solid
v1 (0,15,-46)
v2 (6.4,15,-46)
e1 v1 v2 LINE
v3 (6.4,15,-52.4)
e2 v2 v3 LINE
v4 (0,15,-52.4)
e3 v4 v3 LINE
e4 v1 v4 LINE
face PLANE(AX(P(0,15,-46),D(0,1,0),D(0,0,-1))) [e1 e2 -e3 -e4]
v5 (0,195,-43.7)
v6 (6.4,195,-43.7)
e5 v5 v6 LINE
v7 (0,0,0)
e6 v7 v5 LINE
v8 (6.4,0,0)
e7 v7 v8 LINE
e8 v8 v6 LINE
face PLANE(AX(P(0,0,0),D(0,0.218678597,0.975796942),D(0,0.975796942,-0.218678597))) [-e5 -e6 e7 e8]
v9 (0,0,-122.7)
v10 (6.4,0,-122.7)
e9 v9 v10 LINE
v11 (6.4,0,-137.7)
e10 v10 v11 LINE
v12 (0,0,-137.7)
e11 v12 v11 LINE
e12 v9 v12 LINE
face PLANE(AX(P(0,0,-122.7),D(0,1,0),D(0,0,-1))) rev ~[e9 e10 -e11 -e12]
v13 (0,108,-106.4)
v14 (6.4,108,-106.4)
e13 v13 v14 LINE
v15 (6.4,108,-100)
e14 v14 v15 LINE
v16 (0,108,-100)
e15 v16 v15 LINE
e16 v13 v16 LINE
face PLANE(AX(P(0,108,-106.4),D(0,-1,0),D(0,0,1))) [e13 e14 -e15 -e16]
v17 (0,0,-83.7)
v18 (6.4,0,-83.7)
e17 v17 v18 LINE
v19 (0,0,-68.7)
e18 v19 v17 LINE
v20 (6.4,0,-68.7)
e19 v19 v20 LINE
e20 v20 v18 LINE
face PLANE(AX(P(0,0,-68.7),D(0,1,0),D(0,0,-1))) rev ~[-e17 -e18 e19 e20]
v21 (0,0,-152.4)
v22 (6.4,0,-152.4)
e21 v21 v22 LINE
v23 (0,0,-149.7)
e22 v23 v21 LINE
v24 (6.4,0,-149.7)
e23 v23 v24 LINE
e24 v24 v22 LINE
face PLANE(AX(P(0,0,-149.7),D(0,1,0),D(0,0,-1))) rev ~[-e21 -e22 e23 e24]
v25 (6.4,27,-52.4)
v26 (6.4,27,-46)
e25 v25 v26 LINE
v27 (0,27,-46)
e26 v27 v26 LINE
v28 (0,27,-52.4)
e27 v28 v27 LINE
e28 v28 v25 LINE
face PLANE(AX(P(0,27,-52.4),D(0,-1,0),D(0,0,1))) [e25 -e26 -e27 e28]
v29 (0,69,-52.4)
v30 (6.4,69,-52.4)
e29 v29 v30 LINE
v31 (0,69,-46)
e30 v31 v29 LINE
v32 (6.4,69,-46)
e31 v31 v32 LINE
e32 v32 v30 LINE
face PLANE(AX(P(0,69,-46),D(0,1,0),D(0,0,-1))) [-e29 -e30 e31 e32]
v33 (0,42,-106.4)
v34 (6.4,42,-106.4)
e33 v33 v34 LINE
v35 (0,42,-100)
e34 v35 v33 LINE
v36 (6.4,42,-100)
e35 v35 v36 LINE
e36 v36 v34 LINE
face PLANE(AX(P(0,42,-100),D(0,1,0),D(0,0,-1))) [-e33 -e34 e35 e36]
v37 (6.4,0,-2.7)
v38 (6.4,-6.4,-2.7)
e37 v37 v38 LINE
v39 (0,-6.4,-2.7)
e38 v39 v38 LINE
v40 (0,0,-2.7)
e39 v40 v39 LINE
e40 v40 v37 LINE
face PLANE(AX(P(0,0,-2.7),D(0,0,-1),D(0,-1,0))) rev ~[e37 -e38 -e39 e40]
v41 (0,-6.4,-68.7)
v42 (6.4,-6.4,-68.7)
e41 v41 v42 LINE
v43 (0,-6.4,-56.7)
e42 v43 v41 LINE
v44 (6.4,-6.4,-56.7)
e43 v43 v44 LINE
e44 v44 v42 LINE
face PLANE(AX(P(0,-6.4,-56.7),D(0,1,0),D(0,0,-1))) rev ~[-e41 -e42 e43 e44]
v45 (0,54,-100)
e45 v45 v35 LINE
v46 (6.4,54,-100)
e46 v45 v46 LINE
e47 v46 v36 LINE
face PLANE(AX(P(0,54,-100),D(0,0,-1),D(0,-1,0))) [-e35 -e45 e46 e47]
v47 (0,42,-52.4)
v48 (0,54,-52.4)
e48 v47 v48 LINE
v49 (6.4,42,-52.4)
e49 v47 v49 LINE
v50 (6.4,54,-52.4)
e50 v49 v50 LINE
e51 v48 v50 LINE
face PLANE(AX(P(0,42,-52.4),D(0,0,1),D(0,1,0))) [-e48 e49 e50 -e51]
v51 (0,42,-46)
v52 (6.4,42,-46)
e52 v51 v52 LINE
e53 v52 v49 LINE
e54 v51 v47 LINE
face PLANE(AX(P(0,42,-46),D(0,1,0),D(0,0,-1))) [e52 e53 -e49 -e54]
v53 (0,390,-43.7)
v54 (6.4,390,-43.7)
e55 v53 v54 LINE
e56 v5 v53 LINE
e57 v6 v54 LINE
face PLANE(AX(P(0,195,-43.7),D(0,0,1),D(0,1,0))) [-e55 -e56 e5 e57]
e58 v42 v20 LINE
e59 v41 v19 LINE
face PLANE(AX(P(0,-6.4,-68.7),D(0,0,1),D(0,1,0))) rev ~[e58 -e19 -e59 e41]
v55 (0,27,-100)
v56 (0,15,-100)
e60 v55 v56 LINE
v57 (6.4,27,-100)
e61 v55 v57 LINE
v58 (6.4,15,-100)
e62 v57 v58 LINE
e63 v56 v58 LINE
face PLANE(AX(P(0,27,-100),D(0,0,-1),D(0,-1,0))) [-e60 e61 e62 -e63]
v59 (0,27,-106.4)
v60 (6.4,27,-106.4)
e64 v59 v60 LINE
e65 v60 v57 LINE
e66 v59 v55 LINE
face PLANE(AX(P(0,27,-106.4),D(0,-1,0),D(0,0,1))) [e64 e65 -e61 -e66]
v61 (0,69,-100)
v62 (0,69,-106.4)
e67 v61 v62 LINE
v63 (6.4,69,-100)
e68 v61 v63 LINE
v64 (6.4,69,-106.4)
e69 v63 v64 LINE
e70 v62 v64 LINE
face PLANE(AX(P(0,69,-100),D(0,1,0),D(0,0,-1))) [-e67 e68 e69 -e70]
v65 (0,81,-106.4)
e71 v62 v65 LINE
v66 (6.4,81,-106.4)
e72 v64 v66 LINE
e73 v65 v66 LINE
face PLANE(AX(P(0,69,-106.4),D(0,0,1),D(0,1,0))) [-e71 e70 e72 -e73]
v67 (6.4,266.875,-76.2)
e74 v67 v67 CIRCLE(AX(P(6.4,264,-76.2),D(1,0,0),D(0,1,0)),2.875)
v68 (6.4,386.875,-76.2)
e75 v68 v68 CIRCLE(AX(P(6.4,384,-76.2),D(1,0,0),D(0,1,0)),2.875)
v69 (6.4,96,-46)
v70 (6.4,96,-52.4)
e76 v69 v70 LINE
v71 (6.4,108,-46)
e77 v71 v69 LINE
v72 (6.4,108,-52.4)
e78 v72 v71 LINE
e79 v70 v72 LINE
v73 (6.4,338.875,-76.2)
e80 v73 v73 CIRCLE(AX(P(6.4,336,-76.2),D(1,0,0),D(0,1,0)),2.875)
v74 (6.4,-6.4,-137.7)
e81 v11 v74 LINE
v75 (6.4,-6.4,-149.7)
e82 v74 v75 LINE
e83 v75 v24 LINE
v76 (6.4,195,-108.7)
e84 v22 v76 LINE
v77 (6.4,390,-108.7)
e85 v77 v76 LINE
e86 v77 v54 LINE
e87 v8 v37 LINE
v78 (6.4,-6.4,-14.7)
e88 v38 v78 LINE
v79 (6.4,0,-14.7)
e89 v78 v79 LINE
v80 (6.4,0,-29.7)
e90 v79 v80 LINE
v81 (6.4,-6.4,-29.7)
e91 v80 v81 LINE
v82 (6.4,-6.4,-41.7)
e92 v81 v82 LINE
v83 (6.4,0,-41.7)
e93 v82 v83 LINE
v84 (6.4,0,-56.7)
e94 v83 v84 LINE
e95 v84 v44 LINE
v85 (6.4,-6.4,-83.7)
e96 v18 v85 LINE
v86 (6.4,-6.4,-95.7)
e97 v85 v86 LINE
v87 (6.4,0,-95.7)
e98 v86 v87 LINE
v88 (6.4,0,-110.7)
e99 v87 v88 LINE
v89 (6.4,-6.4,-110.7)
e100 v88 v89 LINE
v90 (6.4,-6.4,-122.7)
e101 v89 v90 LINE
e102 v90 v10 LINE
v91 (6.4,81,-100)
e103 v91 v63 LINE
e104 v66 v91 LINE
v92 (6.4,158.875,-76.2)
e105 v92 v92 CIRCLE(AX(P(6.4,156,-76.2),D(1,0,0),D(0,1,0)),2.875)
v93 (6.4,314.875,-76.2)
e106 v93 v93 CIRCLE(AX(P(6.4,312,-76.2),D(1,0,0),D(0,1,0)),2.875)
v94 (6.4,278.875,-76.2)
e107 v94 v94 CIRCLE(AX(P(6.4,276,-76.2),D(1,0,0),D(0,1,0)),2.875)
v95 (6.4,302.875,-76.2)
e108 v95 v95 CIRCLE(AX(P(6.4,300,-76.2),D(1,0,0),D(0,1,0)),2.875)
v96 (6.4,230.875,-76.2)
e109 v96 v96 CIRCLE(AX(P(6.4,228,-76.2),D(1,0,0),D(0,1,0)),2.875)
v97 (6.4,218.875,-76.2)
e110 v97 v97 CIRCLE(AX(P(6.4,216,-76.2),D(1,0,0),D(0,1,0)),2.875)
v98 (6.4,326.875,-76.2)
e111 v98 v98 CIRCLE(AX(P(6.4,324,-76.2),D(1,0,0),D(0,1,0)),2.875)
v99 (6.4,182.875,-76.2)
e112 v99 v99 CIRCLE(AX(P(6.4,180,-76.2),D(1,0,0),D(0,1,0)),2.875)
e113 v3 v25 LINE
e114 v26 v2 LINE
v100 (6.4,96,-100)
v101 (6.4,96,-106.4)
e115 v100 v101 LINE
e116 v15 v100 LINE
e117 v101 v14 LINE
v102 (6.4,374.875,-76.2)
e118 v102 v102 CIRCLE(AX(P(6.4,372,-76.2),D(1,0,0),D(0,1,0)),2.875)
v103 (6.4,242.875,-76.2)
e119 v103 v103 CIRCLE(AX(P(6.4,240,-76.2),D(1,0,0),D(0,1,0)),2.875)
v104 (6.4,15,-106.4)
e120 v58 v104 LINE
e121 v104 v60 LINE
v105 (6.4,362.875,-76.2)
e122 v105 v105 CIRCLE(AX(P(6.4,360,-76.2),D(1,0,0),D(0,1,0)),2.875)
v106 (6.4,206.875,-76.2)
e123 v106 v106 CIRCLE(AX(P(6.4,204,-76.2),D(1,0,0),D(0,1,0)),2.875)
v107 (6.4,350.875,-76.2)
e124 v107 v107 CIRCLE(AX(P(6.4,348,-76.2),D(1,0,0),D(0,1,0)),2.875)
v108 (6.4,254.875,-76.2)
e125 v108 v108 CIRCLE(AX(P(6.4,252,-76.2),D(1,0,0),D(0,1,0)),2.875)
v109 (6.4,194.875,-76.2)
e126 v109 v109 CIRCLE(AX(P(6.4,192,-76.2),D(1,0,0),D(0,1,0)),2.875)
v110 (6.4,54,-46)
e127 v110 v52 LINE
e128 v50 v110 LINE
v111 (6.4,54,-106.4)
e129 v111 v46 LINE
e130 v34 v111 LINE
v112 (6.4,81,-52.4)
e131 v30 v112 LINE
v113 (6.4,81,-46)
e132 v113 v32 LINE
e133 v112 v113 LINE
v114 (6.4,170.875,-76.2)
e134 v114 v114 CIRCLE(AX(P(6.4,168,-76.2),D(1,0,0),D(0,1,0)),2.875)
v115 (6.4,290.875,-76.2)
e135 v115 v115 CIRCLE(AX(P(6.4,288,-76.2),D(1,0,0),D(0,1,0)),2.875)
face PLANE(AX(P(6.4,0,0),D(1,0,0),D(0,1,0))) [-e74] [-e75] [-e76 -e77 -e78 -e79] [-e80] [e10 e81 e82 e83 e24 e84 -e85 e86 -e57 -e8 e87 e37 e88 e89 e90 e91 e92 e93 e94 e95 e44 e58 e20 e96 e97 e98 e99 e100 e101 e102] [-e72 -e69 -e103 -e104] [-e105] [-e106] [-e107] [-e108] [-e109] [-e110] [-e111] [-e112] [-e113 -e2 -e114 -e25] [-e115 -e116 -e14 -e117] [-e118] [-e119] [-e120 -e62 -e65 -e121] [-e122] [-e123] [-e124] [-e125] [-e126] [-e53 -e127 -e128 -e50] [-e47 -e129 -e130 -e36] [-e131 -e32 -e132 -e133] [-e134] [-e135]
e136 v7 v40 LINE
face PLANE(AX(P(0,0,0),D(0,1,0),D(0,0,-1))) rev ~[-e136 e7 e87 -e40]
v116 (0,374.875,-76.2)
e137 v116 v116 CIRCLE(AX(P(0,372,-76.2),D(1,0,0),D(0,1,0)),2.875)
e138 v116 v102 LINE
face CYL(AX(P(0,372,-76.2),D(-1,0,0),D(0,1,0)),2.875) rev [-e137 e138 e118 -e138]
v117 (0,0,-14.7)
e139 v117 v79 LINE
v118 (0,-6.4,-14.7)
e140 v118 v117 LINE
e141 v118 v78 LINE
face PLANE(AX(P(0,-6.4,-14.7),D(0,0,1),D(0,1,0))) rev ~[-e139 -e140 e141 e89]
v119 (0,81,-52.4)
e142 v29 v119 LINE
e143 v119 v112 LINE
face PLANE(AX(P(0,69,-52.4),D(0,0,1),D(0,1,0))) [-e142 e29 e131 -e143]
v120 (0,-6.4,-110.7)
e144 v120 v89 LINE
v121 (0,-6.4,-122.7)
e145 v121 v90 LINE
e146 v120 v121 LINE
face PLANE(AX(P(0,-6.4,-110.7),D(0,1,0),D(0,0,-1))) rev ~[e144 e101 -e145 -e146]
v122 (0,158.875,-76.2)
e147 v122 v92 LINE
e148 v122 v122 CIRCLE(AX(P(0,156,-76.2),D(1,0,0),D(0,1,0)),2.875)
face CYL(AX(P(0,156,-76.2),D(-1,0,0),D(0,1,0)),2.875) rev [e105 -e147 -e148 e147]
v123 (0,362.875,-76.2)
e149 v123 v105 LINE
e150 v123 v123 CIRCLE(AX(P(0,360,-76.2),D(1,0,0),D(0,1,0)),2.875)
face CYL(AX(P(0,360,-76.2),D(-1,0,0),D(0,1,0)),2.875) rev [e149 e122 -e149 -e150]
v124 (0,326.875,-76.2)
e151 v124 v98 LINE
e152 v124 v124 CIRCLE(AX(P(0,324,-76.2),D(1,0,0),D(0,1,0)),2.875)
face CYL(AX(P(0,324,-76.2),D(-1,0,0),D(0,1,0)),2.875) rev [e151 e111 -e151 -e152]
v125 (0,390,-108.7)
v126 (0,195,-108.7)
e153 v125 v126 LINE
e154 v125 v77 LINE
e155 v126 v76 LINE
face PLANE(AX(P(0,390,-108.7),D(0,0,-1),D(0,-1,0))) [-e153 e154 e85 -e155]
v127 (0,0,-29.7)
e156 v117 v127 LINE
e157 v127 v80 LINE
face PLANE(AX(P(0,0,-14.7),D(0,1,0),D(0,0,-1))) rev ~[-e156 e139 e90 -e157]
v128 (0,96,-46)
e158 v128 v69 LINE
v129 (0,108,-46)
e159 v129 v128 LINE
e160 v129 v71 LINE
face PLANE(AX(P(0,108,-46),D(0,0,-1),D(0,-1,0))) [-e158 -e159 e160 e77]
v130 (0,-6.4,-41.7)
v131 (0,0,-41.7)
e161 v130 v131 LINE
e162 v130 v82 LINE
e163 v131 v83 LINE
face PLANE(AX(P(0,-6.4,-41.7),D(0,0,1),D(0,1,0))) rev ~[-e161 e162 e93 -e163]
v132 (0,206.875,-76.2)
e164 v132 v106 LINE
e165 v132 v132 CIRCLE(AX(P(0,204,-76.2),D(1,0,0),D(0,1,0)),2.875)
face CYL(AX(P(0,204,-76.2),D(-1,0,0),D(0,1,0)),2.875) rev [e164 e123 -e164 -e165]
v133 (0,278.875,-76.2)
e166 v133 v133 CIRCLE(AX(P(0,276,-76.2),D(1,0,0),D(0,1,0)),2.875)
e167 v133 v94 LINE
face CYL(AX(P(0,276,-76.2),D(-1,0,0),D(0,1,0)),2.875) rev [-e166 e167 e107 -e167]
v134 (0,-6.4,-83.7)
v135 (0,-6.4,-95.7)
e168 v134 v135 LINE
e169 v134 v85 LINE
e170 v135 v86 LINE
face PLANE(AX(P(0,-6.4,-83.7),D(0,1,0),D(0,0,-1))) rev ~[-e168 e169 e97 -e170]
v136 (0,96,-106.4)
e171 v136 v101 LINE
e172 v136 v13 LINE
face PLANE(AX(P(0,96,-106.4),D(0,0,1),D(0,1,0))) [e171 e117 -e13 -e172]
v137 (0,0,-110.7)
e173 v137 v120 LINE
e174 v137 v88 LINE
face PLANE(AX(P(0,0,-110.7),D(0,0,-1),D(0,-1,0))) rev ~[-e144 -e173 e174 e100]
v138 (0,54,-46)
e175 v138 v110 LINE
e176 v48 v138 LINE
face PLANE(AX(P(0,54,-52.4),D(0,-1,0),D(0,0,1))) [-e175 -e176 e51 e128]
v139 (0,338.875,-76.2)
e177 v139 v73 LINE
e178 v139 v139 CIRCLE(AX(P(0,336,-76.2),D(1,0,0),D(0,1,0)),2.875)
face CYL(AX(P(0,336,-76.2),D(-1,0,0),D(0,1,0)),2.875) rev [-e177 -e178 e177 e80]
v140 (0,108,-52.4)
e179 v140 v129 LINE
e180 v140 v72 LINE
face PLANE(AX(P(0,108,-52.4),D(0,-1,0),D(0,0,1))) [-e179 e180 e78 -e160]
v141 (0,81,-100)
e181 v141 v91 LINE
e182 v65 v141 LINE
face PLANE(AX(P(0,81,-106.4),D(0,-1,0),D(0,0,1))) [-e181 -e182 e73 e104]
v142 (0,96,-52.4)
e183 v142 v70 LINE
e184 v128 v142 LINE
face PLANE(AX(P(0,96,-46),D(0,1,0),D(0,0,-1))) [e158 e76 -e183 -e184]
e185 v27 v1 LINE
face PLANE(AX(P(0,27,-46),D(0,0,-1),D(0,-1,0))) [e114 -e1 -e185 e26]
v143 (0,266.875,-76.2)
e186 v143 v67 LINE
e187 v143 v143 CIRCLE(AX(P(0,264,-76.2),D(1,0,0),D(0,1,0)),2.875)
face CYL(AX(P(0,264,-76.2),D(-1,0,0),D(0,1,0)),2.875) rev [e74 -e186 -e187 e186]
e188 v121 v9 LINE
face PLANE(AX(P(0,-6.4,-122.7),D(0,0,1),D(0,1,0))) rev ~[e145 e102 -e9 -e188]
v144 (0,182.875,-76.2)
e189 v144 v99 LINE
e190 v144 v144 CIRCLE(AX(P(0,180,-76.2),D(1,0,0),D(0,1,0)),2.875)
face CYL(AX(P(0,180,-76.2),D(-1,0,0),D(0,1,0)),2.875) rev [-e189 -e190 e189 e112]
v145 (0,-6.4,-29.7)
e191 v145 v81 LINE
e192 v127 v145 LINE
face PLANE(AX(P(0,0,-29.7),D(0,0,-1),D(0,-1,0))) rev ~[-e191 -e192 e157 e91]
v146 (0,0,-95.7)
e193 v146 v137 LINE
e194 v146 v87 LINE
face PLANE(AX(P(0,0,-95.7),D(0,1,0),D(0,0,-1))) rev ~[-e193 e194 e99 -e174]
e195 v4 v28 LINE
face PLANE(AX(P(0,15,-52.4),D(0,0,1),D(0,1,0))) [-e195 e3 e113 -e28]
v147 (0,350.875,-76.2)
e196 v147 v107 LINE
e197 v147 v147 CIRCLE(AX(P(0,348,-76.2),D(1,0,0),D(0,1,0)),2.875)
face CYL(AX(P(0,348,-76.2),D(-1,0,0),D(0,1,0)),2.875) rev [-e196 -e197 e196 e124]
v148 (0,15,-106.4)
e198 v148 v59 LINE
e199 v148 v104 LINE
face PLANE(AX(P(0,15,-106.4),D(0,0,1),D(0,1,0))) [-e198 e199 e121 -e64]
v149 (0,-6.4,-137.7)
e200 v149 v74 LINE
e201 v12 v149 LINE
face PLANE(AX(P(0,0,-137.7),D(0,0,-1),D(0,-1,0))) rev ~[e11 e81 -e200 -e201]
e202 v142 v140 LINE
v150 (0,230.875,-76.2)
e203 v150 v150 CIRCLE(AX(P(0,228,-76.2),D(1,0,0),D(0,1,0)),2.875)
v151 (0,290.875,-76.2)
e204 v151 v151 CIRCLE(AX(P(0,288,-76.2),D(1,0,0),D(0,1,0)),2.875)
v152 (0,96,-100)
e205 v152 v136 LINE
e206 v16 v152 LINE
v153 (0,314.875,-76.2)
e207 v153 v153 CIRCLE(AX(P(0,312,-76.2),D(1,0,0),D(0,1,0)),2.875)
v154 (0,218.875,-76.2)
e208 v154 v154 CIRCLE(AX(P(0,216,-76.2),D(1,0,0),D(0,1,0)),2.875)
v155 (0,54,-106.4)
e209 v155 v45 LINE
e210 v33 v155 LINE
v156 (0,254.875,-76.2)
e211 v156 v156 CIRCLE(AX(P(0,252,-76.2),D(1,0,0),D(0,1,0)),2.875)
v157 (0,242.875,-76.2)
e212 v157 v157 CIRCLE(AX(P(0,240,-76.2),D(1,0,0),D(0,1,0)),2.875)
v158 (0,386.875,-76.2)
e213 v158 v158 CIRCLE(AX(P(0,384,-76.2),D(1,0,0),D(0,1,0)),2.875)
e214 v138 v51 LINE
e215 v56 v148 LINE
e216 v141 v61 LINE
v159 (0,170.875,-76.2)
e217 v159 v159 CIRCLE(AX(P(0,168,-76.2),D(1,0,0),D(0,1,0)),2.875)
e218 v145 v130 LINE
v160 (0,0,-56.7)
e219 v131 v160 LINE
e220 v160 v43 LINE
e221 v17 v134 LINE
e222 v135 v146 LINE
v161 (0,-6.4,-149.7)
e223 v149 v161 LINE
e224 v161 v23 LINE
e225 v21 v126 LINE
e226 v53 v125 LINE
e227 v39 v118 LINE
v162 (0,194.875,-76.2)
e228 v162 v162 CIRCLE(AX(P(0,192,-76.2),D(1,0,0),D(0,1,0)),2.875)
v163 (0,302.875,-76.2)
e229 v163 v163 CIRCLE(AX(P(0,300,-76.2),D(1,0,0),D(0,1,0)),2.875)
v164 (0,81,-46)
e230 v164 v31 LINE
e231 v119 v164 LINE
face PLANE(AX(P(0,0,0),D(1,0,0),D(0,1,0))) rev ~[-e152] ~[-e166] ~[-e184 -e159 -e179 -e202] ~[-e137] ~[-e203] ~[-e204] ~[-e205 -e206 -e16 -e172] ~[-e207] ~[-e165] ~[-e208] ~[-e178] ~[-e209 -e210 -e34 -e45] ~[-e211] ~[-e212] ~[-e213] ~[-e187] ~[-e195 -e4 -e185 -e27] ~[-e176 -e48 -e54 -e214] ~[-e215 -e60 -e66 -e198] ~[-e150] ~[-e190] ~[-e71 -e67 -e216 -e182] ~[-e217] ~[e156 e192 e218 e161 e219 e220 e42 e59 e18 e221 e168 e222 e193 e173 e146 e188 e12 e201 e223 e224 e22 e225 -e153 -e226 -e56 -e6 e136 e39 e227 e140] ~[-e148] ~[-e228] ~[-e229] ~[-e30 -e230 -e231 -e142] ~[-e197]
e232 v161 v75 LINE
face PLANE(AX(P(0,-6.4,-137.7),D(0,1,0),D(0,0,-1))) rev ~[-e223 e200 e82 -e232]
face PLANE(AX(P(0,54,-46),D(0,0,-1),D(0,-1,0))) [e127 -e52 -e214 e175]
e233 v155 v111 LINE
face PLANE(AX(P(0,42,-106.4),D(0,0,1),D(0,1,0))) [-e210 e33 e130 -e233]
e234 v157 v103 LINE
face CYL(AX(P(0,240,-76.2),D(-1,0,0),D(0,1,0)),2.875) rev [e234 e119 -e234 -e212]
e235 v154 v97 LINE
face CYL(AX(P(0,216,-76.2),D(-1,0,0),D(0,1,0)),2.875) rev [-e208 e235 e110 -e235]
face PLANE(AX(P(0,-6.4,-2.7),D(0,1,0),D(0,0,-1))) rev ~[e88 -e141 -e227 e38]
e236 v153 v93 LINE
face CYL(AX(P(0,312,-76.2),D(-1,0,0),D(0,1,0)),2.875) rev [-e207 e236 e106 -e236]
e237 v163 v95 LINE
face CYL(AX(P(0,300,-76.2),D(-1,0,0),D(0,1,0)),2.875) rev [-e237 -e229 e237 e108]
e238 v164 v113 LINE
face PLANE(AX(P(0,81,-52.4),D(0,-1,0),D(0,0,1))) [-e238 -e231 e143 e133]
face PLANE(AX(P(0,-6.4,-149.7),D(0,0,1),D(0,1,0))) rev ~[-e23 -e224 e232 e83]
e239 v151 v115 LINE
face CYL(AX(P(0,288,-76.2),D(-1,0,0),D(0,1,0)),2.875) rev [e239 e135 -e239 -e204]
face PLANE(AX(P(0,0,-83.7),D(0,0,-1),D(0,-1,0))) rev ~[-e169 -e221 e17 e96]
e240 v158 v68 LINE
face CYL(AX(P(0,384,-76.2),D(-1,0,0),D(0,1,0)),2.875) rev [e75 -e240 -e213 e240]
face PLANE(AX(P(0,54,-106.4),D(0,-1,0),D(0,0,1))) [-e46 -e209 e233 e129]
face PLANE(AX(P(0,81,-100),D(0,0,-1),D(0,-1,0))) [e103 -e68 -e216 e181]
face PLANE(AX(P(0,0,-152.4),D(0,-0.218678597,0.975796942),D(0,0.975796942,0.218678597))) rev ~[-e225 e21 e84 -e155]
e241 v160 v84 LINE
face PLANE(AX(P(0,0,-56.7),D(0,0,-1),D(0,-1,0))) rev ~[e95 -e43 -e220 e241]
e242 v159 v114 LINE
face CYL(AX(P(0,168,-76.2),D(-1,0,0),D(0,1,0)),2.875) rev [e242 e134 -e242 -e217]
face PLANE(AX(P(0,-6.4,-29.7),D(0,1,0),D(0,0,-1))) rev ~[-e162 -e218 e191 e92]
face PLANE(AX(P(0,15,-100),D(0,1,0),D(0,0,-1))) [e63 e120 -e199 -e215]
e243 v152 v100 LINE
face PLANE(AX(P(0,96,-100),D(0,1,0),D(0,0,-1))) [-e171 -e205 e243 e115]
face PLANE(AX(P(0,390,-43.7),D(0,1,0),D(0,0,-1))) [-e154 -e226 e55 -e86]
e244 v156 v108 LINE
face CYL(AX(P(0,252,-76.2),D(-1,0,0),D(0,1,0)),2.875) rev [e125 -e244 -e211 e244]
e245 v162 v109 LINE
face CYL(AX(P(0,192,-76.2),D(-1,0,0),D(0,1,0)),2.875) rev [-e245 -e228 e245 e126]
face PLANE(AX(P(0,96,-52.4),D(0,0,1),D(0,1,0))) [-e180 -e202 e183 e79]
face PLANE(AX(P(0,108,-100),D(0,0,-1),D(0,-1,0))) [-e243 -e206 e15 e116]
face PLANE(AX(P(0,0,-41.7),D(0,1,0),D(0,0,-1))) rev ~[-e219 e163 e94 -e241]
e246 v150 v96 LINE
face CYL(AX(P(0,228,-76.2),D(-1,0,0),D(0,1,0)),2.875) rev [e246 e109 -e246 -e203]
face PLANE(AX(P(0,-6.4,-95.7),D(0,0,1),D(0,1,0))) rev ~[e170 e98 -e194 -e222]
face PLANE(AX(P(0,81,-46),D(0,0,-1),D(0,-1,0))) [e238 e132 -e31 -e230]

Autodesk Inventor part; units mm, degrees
ref_plane "YZ Plane" through (0, 0, 0) normal (1, 0, 0) x (0, 1, 0)
ref_plane "XZ Plane" through (0, 0, 0) normal (0, 1, 0) x (-1, 0, 0)
ref_plane "XY Plane" through (0, 0, 0) normal (0, 0, 1) x (1, 0, 0)
sketch "Sketch1" plane through (0, 0, 0) normal (1, 0, 0) x (0, 1, 0)
  line L0 (0, 0) -> (0, -152.4) construction
  line L1 (390, -43.7) -> (0, -43.7) construction
  line L2 (0, -43.7) -> (0, -108.7) construction
  line L3 (0, -108.7) -> (390, -108.7) construction
  line L4 (390, -108.7) -> (390, -43.7) construction
  line L5 (0, 0) -> (0, -152.4)
  line L6 (0, 0) -> (195, -43.7)
  line L7 (0, -152.4) -> (195, -108.7)
  line L8 (195, -43.7) -> (390, -43.7)
  line L9 (390, -43.7) -> (390, -108.7)
  line L10 (390, -108.7) -> (195, -108.7)
  circle A0 centre (384, -76.2) radius 2.875
  line L11 (390, -66.2) -> (366, -66.2)
  line L12 (366, -86.2) -> (390, -86.2)
  line L13 (390, -86.2) -> (390, -66.2)
  circle A1 centre (372, -76.2) radius 2.875
  line L14 (0, -2.7) -> (-6.4, -2.7)
  line L15 (-6.4, -2.7) -> (-6.4, -14.7)
  line L16 (-6.4, -14.7) -> (0, -14.7)
  line L17 (0, -14.7) -> (0, -2.7)
  line L18 (-6.4, -29.7) -> (-6.4, -41.7)
  line L19 (-6.4, -41.7) -> (0, -41.7)
  line L20 (0, -29.7) -> (-6.4, -29.7)
  line L21 (-6.4, -56.7) -> (-6.4, -68.7)
  line L22 (-6.4, -68.7) -> (0, -68.7)
  line L23 (0, -56.7) -> (-6.4, -56.7)
  line L24 (-6.4, -83.7) -> (-6.4, -95.7)
  line L25 (-6.4, -95.7) -> (0, -95.7)
  line L26 (0, -83.7) -> (-6.4, -83.7)
  line L27 (-6.4, -110.7) -> (-6.4, -122.7)
  line L28 (-6.4, -122.7) -> (0, -122.7)
  line L29 (0, -110.7) -> (-6.4, -110.7)
  line L30 (-6.4, -137.7) -> (-6.4, -149.7)
  line L31 (-6.4, -149.7) -> (0, -149.7)
  line L32 (0, -137.7) -> (-6.4, -137.7)
  line L33 (27, -46) -> (15, -46)
  line L34 (15, -46) -> (15, -52.4)
  line L35 (15, -52.4) -> (27, -52.4)
  line L36 (27, -52.4) -> (27, -46)
  line L37 (27, -49.2) -> (15, -49.2) construction
  line L38 (42, -52.4) -> (54, -52.4)
  line L39 (54, -46) -> (42, -46)
  line L40 (42, -46) -> (42, -52.4)
  line L41 (54, -52.4) -> (54, -46)
  line L42 (69, -52.4) -> (81, -52.4)
  line L43 (81, -46) -> (69, -46)
  line L44 (69, -46) -> (69, -52.4)
  line L45 (81, -52.4) -> (81, -46)
  line L46 (96, -52.4) -> (108, -52.4)
  line L47 (108, -46) -> (96, -46)
  line L48 (96, -46) -> (96, -52.4)
  line L49 (108, -52.4) -> (108, -46)
  line L50 (96, -106.4) -> (108, -106.4)
  line L51 (108, -100) -> (96, -100)
  line L52 (96, -100) -> (96, -106.4)
  line L53 (108, -106.4) -> (108, -100)
  line L54 (69, -106.4) -> (81, -106.4)
  line L55 (69, -100) -> (69, -106.4)
  line L56 (81, -100) -> (69, -100)
  line L57 (81, -106.4) -> (81, -100)
  line L58 (42, -106.4) -> (54, -106.4)
  line L59 (54, -100) -> (42, -100)
  line L60 (54, -106.4) -> (54, -100)
  line L61 (42, -100) -> (42, -106.4)
  line L62 (15, -106.4) -> (27, -106.4)
  line L63 (15, -100) -> (15, -106.4)
  line L64 (27, -100) -> (15, -100)
  line L65 (27, -106.4) -> (27, -100)
  line L66 (366, -66.2) -> (366, -86.2)
  circle A2 centre (360, -76.2) radius 2.875
  circle A3 centre (348, -76.2) radius 2.875
  line L67 (366, -66.2) -> (342, -66.2)
  line L68 (342, -86.2) -> (366, -86.2)
  line L69 (342, -66.2) -> (342, -86.2)
  circle A4 centre (336, -76.2) radius 2.875
  circle A5 centre (324, -76.2) radius 2.875
  line L70 (342, -66.2) -> (318, -66.2)
  line L71 (318, -86.2) -> (342, -86.2)
  line L72 (318, -66.2) -> (318, -86.2)
  circle A6 centre (312, -76.2) radius 2.875
  circle A7 centre (300, -76.2) radius 2.875
  line L73 (318, -66.2) -> (294, -66.2)
  line L74 (294, -86.2) -> (318, -86.2)
  line L75 (294, -66.2) -> (294, -86.2)
  circle A8 centre (288, -76.2) radius 2.875
  circle A9 centre (276, -76.2) radius 2.875
  line L76 (294, -66.2) -> (270, -66.2)
  line L77 (270, -86.2) -> (294, -86.2)
  line L78 (270, -66.2) -> (270, -86.2)
  circle A10 centre (264, -76.2) radius 2.875
  circle A11 centre (252, -76.2) radius 2.875
  line L79 (270, -66.2) -> (246, -66.2)
  line L80 (246, -86.2) -> (270, -86.2)
  line L81 (246, -66.2) -> (246, -86.2)
  circle A12 centre (240, -76.2) radius 2.875
  circle A13 centre (228, -76.2) radius 2.875
  line L82 (246, -66.2) -> (222, -66.2)
  line L83 (222, -86.2) -> (246, -86.2)
  line L84 (222, -66.2) -> (222, -86.2)
  circle A14 centre (216, -76.2) radius 2.875
  circle A15 centre (204, -76.2) radius 2.875
  line L85 (222, -66.2) -> (198, -66.2)
  line L86 (198, -86.2) -> (222, -86.2)
  line L87 (198, -66.2) -> (198, -86.2)
  circle A16 centre (192, -76.2) radius 2.875
  circle A17 centre (180, -76.2) radius 2.875
  line L88 (198, -66.2) -> (174, -66.2)
  line L89 (174, -86.2) -> (198, -86.2)
  line L90 (174, -66.2) -> (174, -86.2)
  circle A18 centre (168, -76.2) radius 2.875
  circle A19 centre (156, -76.2) radius 2.875
  line L91 (174, -66.2) -> (150, -66.2)
  line L92 (150, -86.2) -> (174, -86.2)
  line L93 (150, -66.2) -> (150, -86.2)
  point P0 (390, -86.2)
  point P1 (390, -66.2)
  point P2 (0, -8.7)
  point P3 (0, -149.7)
  point P4 (0, -122.7)
  point P5 (0, -95.7)
  point P6 (0, -68.7)
  point P7 (0, -41.7)
  point P8 (117.4088, -76.2)
  point P9 (42, -49.2)
  point P10 (54, -49.2)
  point P11 (69, -49.2)
  point P12 (81, -49.2)
  point P13 (96, -49.2)
  point P14 (108, -49.2)
  point P15 (108, -103.2)
  point P16 (96, -103.2)
  point P17 (69, -103.2)
  point P18 (81, -103.2)
  point P19 (54, -103.2)
  point P20 (42, -103.2)
  point P21 (15, -103.2)
  point P22 (27, -103.2)
  dimension "d0" = 152.4
  dimension "d1" = 65
  dimension "d2" = 390
  dimension "d4" = 5.75
  dimension "d5" = 20
  dimension "d8" = 5.75
  dimension "d11" = 0
  dimension "d21" = 12
  dimension "d22" = 6.4
  dimension "d23" = 2.7
  dimension "d26" = 27
  dimension "d39" = 12
  dimension "d40" = 6.4
  dimension "d41" = 46
  dimension "d42" = 15
  dimension "d45" = 27
  dimension "d52" = 54
  dimension "d57" = 12
  dimension "d58" = 6
  dimension "d59" = 6
  dimension "d62" = 24
extrude "Extrusion1" add sketch "Sketch1" along normal blind 6.4
properties part number "mdf_vertical_r1"
